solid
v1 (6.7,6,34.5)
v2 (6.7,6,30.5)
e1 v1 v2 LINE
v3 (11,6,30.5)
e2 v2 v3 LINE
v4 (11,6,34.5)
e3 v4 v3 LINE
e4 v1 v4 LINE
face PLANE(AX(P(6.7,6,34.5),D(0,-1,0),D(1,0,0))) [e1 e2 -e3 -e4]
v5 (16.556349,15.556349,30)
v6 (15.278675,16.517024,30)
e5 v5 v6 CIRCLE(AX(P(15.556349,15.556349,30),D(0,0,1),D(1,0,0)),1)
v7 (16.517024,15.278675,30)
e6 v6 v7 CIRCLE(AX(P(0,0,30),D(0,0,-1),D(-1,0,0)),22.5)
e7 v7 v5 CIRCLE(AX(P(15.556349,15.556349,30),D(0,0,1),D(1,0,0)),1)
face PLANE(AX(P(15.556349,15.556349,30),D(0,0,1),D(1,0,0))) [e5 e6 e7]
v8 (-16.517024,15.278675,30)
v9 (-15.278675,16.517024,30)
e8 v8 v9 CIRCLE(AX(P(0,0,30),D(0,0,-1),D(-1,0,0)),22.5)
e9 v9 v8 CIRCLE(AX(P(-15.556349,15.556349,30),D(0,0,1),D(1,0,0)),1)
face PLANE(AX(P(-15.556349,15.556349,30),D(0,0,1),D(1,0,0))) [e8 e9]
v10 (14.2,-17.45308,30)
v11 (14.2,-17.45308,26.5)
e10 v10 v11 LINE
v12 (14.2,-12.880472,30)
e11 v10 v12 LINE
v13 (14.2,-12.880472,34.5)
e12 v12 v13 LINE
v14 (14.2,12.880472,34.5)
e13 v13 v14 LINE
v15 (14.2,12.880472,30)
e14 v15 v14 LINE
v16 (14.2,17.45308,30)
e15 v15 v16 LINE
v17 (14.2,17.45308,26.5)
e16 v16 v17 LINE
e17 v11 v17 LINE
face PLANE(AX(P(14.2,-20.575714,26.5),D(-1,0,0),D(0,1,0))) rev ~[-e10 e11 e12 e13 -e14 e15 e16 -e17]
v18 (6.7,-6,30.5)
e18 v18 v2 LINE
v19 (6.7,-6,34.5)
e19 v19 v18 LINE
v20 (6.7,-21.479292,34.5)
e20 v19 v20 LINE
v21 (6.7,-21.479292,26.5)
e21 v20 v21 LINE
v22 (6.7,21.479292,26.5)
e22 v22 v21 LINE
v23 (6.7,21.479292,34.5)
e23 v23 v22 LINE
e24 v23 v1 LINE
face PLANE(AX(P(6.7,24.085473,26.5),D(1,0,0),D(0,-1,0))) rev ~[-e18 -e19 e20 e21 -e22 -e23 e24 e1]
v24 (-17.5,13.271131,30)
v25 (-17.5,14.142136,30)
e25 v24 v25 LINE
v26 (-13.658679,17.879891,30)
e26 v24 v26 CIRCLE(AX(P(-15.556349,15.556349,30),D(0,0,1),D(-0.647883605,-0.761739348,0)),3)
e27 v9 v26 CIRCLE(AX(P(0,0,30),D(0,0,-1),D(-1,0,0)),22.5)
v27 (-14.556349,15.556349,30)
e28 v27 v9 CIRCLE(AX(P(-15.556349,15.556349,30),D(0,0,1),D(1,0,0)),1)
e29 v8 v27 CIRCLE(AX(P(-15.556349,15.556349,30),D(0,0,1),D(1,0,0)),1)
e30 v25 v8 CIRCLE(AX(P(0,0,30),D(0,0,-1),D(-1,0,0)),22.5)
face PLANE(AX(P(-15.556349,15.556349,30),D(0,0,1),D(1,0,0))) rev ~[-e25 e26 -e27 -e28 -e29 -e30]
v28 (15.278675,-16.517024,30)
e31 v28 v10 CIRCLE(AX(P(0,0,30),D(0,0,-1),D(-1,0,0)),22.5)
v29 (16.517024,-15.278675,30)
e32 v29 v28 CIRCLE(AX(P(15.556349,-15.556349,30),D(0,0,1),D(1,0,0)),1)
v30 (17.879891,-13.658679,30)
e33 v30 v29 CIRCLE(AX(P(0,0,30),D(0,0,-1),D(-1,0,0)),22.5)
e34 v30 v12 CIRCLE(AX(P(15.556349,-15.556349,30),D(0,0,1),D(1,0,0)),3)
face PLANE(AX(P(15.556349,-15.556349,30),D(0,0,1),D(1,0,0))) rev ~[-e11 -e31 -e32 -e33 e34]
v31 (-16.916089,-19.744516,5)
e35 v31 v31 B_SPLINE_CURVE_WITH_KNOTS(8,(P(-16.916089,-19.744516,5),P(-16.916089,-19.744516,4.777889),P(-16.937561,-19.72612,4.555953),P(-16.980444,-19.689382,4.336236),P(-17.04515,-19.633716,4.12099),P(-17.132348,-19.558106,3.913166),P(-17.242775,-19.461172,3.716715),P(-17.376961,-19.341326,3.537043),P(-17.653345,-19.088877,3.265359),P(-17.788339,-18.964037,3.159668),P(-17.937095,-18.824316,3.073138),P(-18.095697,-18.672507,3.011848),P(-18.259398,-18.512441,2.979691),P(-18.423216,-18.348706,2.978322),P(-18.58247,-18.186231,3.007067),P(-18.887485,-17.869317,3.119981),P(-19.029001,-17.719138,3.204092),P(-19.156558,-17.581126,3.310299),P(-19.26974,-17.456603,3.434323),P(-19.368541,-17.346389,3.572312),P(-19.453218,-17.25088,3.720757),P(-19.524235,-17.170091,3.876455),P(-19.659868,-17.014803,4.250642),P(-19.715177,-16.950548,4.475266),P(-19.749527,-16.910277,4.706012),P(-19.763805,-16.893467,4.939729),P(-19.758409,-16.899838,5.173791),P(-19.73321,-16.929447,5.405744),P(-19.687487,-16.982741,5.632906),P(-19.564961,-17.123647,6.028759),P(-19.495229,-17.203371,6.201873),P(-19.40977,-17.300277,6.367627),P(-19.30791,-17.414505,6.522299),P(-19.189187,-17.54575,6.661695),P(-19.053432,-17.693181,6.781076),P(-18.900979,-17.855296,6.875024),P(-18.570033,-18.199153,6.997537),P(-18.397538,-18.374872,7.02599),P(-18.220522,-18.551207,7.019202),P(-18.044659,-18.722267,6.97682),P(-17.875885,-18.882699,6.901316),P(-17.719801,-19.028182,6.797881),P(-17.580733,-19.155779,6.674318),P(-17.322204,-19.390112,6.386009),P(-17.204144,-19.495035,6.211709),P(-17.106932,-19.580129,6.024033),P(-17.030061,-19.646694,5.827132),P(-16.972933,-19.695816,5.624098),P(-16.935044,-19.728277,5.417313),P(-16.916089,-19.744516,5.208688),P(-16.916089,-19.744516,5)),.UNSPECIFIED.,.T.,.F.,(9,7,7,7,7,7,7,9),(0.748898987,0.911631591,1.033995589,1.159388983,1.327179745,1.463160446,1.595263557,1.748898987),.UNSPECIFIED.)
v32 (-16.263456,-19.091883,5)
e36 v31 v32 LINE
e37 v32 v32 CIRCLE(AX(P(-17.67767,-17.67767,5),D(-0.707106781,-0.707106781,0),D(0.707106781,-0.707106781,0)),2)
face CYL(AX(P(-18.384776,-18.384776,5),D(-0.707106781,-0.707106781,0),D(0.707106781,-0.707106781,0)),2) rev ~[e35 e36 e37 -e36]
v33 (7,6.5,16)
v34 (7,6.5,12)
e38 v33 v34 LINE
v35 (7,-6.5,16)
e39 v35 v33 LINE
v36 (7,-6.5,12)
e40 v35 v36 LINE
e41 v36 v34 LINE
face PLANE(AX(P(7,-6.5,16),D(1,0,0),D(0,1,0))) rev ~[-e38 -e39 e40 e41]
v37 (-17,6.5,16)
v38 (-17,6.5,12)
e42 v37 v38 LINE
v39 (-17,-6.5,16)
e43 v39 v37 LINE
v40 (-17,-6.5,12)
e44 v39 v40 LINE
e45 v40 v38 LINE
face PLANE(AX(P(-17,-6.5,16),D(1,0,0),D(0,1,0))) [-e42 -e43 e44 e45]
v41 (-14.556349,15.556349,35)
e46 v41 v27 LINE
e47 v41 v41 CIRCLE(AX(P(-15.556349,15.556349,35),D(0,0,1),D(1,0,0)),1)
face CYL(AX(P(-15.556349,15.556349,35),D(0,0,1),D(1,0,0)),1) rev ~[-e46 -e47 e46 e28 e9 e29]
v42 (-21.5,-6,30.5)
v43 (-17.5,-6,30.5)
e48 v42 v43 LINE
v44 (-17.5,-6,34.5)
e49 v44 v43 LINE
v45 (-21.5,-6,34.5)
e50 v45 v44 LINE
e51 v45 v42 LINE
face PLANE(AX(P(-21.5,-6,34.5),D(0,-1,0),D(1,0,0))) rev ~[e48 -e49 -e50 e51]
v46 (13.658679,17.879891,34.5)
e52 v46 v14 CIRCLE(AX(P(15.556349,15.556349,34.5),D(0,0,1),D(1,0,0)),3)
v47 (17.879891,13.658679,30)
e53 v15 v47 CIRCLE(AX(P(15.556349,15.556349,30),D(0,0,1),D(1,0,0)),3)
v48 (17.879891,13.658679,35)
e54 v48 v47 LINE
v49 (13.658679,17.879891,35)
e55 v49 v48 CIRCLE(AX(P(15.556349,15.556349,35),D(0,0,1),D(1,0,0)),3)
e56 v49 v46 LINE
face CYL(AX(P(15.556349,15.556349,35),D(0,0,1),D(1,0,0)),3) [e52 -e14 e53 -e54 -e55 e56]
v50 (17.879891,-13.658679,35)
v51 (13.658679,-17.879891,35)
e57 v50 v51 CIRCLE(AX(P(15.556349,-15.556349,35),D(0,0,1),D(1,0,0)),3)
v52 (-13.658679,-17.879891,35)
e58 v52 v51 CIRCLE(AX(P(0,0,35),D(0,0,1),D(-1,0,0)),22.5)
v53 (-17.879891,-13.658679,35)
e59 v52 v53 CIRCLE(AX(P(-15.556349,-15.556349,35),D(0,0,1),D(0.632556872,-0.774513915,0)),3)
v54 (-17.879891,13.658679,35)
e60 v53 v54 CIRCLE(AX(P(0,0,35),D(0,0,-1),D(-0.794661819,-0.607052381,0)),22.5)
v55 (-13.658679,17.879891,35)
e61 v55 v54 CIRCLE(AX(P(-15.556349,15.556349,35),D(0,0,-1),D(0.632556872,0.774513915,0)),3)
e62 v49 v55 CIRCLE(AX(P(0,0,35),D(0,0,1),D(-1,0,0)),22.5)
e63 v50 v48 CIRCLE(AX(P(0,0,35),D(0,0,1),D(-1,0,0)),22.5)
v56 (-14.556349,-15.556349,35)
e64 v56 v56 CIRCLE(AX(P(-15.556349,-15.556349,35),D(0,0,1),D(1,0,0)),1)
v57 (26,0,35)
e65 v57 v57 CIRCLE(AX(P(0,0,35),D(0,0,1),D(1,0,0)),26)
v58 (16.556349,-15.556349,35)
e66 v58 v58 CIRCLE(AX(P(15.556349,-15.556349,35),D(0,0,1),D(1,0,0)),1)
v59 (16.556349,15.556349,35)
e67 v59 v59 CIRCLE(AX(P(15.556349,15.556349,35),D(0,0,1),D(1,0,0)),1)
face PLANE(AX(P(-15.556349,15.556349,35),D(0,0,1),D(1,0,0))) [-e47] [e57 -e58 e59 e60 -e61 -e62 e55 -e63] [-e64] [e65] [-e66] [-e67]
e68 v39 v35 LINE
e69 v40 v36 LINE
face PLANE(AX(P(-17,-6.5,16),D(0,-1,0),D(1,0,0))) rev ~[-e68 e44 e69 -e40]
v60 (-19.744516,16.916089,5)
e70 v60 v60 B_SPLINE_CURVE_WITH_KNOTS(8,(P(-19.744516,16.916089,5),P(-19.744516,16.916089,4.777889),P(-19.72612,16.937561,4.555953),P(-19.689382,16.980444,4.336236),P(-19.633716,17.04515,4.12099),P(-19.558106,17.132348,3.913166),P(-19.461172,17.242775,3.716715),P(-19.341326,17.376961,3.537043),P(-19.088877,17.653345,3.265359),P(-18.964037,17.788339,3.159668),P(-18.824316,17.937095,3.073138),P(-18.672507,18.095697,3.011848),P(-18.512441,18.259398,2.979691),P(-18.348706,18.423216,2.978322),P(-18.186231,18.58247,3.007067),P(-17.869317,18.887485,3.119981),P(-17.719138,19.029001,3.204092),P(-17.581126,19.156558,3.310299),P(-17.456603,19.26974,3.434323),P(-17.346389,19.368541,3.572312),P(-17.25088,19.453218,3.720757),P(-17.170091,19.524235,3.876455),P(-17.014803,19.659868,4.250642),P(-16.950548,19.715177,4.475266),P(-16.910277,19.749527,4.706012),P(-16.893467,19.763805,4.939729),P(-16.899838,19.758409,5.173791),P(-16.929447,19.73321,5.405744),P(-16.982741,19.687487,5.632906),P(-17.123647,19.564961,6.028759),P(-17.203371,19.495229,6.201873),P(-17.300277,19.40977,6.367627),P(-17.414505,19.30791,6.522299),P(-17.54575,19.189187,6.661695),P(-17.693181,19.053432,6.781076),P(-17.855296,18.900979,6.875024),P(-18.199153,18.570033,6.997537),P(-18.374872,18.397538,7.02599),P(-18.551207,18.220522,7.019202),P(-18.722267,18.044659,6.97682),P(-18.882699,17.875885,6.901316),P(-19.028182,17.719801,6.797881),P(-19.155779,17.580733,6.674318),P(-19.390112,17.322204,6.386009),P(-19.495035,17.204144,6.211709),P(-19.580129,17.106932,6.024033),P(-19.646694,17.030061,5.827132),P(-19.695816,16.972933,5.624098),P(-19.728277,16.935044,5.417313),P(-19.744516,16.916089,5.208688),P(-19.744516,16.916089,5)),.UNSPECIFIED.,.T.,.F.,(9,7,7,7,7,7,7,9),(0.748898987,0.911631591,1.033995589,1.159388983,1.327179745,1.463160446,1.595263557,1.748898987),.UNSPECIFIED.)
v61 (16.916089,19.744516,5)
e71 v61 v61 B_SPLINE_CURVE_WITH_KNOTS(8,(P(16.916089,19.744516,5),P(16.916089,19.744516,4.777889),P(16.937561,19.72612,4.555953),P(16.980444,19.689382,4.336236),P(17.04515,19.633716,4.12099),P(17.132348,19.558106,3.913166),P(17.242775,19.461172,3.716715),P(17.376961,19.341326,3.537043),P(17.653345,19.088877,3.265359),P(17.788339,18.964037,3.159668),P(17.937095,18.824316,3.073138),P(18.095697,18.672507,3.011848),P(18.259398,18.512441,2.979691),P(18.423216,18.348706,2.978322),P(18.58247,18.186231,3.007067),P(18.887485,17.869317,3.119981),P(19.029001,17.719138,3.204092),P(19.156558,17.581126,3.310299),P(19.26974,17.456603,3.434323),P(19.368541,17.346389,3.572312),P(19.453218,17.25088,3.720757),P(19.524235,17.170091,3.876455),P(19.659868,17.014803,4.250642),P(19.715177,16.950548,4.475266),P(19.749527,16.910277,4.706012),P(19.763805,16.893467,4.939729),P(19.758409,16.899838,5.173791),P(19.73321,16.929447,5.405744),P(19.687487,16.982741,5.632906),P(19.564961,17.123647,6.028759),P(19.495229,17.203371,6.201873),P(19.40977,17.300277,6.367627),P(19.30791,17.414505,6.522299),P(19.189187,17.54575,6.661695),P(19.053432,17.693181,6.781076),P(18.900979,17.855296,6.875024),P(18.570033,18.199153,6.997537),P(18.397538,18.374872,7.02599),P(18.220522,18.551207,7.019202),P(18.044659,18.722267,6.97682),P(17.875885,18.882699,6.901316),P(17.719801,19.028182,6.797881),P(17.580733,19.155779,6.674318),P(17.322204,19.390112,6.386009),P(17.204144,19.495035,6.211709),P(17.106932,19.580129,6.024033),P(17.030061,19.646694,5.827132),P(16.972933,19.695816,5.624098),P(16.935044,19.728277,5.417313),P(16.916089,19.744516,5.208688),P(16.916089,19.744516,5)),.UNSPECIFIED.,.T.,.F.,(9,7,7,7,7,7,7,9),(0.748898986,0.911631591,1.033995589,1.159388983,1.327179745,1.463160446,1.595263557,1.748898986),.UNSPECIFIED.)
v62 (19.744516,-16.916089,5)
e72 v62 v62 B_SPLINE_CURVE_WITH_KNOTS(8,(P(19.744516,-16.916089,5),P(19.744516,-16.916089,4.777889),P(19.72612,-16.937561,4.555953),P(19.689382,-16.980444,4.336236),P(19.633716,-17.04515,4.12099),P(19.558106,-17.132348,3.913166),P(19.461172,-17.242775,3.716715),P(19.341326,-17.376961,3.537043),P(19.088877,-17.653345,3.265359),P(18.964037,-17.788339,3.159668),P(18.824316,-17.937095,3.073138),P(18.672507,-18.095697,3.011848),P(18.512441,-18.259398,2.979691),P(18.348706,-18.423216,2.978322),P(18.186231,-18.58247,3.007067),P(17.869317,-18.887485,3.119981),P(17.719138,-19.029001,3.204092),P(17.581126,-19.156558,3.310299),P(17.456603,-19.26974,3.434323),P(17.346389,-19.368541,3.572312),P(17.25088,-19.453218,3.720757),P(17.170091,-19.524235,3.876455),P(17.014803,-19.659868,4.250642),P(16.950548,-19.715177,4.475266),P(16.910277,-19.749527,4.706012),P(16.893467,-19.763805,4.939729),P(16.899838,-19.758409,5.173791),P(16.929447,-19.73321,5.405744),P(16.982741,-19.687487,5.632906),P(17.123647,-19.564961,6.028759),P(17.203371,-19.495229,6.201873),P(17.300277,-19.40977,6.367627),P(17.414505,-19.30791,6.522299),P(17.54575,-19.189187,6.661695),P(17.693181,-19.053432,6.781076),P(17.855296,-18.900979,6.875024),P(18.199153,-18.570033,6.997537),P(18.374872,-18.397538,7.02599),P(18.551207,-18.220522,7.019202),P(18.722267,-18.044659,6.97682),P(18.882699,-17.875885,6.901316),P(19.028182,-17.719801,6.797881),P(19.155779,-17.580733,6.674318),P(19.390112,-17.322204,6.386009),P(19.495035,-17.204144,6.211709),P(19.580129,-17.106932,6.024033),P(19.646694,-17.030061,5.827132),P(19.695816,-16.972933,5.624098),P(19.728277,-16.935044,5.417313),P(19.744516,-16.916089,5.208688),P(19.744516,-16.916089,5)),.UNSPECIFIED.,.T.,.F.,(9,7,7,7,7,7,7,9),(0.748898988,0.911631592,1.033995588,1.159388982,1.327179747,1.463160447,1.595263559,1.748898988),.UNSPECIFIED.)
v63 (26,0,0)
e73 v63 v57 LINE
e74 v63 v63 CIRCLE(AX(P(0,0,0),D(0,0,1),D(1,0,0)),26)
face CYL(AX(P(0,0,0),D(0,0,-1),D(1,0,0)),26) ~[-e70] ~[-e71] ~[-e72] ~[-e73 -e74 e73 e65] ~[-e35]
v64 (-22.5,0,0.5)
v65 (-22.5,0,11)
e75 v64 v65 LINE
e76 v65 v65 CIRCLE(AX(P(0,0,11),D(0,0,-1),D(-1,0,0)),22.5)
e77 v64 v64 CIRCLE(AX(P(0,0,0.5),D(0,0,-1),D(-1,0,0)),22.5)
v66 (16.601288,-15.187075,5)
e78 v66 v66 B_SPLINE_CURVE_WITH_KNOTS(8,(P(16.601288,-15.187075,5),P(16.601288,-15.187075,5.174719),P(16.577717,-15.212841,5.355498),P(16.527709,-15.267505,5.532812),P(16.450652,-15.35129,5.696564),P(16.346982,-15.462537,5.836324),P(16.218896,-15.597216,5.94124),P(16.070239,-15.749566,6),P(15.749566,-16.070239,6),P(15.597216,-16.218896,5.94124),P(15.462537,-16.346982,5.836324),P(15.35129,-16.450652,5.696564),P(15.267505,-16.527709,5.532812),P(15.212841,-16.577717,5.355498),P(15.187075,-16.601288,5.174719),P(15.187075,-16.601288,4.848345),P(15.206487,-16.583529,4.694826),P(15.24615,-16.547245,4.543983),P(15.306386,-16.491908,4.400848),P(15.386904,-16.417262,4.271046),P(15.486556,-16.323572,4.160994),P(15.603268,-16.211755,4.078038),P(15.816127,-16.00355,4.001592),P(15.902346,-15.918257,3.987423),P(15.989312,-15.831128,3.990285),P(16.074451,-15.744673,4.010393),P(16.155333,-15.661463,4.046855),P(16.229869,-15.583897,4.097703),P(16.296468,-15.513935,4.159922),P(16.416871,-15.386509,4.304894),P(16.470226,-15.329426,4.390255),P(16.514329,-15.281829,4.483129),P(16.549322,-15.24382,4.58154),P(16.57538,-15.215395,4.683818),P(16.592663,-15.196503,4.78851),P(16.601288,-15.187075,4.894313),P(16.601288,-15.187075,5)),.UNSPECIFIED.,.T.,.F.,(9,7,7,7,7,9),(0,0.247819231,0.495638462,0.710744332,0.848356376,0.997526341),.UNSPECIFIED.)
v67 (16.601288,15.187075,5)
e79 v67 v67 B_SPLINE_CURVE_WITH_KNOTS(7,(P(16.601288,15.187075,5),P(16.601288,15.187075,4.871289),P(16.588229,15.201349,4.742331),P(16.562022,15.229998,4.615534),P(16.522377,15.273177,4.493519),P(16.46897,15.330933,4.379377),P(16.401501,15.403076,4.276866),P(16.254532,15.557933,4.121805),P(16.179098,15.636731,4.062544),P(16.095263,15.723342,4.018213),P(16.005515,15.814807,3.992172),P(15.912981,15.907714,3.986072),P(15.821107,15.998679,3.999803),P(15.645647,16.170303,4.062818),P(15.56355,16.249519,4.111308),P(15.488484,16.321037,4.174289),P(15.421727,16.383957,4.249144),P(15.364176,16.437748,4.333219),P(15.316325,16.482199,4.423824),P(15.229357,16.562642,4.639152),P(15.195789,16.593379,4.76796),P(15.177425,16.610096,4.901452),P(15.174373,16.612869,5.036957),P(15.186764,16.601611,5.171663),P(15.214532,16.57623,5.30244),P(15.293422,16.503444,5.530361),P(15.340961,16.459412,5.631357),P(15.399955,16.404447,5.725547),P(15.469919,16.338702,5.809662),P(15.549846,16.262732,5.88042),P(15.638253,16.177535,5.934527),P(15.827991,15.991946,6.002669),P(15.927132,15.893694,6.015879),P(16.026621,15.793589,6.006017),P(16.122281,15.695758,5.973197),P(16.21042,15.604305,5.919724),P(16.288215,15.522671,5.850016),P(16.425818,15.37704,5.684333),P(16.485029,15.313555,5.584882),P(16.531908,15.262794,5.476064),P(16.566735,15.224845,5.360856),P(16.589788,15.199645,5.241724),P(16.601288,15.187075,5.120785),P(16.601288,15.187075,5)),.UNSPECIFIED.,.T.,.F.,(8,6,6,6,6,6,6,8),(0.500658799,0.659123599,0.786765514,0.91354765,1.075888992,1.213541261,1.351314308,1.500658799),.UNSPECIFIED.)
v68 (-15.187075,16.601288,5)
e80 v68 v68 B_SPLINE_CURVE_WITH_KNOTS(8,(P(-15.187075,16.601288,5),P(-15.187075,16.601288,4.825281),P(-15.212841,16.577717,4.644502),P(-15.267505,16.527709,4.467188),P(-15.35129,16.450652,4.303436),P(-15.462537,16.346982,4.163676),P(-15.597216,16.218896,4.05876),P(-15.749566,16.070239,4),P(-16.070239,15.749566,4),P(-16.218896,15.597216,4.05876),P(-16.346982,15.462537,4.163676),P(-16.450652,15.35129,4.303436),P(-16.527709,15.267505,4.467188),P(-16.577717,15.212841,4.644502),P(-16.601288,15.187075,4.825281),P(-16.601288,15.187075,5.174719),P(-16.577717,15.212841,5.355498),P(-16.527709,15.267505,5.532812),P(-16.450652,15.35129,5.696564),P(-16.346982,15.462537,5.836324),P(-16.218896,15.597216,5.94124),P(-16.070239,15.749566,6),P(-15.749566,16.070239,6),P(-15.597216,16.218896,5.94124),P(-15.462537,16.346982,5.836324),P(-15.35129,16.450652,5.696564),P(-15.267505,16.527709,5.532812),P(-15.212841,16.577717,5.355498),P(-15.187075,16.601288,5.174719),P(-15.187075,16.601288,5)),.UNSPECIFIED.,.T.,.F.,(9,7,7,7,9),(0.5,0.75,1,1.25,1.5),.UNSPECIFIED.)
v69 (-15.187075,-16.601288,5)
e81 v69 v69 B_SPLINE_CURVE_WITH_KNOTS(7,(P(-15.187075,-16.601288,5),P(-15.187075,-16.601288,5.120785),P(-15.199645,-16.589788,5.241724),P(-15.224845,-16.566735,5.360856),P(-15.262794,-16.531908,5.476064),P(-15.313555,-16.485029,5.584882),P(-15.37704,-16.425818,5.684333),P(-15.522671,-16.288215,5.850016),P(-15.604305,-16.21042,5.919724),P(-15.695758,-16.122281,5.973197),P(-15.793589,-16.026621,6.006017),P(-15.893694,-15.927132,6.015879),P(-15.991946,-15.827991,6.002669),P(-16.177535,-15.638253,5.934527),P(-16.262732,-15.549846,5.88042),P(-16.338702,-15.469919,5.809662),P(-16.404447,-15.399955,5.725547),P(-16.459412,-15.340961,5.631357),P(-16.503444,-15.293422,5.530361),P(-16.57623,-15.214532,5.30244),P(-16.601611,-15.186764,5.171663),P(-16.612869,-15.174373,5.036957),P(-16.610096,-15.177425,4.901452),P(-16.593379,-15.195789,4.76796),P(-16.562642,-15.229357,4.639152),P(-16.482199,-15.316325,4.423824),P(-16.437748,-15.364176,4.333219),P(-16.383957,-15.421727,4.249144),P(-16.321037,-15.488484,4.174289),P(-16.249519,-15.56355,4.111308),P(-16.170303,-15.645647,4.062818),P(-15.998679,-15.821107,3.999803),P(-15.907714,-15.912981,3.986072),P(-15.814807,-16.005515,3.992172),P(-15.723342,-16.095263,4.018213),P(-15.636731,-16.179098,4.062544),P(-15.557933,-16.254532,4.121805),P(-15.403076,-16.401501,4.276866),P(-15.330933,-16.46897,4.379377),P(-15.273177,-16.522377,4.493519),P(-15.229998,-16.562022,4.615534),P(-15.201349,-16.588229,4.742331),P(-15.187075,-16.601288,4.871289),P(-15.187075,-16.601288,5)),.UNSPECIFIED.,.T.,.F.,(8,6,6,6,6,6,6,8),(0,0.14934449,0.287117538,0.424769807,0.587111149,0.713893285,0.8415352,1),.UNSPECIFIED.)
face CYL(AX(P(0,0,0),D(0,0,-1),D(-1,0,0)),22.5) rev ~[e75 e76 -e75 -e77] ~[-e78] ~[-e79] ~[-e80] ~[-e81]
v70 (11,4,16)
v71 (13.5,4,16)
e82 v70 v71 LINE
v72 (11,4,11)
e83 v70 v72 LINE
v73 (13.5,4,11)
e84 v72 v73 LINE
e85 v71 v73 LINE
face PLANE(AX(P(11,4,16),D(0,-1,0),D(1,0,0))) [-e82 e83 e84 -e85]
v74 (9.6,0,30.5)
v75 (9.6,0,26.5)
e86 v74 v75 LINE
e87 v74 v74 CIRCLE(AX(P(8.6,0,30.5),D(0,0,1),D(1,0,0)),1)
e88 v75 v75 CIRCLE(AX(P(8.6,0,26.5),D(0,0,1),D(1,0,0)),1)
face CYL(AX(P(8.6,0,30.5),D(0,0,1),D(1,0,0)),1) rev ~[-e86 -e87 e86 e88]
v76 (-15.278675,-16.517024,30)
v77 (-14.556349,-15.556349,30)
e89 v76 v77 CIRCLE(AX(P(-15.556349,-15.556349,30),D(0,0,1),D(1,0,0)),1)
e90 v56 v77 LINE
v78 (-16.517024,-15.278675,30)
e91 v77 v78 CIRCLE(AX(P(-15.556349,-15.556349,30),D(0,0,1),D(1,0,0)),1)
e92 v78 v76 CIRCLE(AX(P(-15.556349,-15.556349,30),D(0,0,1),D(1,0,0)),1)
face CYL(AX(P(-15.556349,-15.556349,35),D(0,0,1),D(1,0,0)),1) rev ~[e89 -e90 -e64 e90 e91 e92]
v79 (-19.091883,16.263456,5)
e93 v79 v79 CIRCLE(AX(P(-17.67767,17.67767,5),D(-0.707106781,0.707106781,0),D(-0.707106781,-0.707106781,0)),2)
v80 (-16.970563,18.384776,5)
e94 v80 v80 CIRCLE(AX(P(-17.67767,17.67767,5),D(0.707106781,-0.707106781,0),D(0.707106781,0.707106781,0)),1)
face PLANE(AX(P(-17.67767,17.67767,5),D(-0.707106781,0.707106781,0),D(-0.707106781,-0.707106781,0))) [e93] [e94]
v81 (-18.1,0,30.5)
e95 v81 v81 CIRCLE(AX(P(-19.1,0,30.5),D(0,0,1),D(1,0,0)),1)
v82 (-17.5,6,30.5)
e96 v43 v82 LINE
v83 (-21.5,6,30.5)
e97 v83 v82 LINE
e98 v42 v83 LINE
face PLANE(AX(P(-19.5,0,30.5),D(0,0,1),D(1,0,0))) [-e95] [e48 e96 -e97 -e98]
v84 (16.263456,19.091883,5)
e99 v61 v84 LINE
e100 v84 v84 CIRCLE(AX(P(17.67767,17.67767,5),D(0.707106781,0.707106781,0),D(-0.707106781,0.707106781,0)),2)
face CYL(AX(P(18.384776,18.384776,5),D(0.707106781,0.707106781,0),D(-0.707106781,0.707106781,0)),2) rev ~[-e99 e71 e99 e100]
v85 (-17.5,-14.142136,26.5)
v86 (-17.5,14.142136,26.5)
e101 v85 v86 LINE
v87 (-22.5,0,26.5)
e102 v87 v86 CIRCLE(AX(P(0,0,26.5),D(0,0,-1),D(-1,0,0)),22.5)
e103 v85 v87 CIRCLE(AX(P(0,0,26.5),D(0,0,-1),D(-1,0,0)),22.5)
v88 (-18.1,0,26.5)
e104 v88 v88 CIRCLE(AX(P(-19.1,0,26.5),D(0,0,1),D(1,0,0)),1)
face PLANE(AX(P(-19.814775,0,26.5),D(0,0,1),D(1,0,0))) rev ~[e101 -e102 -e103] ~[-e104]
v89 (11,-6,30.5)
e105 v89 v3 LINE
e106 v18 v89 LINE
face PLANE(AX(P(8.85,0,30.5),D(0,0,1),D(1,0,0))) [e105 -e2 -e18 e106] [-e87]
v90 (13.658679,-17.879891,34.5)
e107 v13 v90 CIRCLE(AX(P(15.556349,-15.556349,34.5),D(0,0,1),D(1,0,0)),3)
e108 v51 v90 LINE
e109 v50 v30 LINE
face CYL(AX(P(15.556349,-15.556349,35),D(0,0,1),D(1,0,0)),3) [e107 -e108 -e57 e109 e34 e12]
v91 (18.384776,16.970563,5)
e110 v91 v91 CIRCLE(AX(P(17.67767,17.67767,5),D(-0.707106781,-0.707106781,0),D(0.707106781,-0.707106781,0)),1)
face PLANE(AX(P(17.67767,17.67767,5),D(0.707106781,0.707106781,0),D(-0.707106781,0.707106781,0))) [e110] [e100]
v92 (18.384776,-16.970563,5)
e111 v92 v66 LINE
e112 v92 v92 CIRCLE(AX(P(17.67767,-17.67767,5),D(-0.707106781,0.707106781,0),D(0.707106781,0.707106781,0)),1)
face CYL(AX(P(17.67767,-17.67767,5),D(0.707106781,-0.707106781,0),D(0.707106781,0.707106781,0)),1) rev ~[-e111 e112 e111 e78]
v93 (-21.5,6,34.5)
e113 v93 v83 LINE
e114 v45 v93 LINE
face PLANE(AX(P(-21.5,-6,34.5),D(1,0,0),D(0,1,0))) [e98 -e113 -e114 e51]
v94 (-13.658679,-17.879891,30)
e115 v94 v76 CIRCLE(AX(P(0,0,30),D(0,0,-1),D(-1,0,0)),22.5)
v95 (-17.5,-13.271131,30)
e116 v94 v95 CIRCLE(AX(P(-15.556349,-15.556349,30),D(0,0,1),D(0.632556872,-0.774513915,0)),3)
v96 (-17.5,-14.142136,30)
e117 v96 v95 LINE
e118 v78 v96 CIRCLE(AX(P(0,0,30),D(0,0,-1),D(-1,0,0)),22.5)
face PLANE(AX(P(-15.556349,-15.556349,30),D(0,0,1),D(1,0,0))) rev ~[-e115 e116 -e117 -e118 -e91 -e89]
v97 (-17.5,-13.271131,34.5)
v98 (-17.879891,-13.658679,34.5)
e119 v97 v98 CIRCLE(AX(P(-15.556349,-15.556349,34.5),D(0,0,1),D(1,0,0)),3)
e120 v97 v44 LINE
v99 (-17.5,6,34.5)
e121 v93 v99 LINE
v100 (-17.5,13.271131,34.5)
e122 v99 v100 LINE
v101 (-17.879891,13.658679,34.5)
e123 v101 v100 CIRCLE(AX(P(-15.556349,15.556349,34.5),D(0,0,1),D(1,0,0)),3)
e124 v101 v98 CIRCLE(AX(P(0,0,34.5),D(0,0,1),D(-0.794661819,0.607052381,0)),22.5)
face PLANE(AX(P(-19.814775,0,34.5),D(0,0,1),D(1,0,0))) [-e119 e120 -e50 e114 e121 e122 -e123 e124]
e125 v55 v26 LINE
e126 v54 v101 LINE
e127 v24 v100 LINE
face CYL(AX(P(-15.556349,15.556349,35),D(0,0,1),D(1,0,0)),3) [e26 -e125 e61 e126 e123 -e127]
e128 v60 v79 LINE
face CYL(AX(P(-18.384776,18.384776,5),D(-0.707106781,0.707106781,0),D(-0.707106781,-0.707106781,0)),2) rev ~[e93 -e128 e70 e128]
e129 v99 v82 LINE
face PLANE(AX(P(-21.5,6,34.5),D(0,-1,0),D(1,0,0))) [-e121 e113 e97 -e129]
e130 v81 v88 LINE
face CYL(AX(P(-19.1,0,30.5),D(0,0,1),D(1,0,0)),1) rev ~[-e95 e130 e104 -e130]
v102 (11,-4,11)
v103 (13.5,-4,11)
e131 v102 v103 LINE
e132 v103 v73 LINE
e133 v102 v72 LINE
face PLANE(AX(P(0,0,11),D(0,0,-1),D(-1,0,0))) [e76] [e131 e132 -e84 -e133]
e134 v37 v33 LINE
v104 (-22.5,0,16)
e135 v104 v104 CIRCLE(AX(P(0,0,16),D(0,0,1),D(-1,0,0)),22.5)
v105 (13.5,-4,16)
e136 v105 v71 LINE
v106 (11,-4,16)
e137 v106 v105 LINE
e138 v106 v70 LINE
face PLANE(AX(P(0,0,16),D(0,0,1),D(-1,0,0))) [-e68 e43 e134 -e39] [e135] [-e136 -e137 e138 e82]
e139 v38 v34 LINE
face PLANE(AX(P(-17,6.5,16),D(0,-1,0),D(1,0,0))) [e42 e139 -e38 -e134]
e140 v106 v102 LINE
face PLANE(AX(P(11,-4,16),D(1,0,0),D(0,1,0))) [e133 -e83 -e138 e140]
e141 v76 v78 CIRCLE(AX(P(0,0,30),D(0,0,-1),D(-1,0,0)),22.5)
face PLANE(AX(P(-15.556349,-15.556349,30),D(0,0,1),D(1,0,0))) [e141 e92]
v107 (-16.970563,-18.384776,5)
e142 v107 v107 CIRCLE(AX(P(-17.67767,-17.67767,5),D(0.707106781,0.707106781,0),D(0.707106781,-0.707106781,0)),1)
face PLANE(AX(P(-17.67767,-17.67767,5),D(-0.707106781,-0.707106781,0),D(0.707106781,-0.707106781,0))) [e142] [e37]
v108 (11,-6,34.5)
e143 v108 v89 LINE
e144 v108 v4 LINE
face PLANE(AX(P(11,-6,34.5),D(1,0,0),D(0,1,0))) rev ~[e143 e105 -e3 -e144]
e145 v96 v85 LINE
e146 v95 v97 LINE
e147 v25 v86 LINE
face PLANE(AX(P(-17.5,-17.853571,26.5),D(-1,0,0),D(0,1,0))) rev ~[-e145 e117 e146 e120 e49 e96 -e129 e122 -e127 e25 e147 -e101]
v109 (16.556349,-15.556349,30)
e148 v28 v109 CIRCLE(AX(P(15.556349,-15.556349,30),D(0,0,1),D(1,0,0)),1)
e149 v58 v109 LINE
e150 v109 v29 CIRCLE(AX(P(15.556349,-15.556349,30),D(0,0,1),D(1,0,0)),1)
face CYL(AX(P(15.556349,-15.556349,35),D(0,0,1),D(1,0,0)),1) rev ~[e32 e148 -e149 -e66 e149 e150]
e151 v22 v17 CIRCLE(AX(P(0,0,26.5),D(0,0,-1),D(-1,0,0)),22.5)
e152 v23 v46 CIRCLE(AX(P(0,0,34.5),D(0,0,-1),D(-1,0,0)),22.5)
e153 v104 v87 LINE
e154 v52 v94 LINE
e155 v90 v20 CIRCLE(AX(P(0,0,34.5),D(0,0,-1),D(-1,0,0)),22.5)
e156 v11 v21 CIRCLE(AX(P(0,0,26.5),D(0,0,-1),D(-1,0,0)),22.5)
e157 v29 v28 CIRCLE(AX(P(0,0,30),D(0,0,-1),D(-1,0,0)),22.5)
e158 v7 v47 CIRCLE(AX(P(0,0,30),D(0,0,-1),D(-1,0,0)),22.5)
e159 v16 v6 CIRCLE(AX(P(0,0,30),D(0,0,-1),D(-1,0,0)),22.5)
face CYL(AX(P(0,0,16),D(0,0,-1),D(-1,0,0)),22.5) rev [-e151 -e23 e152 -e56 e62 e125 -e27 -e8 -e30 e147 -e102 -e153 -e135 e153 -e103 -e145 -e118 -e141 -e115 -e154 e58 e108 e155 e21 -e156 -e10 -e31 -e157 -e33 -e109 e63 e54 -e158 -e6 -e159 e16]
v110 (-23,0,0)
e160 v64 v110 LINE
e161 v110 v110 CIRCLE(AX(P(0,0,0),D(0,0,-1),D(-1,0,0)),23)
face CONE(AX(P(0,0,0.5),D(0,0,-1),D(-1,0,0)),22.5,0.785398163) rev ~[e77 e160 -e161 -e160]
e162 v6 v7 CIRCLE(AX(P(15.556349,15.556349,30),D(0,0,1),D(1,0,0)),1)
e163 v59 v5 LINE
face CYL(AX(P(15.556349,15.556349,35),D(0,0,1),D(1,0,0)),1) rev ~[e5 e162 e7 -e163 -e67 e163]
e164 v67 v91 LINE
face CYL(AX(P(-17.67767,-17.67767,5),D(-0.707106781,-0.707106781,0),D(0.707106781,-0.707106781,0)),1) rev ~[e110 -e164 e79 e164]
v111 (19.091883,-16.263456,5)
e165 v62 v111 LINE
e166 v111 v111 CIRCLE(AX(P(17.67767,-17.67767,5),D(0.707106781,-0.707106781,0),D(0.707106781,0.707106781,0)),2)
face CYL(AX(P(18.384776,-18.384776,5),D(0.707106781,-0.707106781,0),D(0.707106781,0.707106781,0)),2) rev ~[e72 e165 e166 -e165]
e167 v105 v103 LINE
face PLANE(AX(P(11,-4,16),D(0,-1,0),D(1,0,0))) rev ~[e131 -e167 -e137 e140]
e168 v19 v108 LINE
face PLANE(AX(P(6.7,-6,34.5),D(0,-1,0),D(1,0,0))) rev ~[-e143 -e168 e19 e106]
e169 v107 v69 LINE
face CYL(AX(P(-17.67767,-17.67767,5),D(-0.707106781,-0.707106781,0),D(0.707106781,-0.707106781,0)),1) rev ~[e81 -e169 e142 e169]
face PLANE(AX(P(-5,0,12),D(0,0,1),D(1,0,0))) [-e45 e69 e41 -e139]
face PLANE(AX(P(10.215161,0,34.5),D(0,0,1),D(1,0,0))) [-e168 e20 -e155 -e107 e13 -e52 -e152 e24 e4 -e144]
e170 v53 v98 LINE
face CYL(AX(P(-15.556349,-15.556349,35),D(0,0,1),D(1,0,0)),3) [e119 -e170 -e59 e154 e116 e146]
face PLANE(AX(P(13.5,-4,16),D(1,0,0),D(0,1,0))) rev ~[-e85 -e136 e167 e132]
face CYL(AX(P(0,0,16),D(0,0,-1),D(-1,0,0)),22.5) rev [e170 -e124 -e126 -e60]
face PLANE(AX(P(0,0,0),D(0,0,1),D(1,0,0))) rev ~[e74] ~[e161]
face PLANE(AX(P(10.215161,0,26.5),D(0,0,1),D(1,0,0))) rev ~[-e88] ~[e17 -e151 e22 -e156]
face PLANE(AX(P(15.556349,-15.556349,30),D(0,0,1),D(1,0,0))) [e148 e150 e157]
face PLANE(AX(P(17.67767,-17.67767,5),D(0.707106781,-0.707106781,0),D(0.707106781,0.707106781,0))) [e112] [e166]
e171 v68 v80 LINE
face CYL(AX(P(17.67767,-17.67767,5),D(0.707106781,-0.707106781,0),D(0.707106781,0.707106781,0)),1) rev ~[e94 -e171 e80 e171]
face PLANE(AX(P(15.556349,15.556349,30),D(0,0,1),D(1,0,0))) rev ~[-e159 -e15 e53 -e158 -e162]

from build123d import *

# Parameters (mm, degrees)
SKETCH_1_R               = 26
EXTRUDE_1_DEPTH          = 35
SKETCH_3_R               = 22.5
CUT_EXTRUDE_1_DEPTH      = 11
CUT_EXTRUDE_START        = -19
SKETCH_4_R               = 22.5
CUT_EXTRUDE_2_DEPTH      = 19
SKETCH_13_W              = 24
SKETCH_13_H              = 13
CUT_EXTRUDE_3_DEPTH      = 4
EXTRUDE_2_DEPTH          = 8
SKETCH_15_W              = 4
SKETCH_15_H              = 12
SKETCH_15_W_2            = 4.3
CUT_EXTRUDE_5_DEPTH      = 4
SKETCH_17_R              = 1
CUT_EXTRUDE_6_DEPTH      = 4
SKETCH_20_R              = 3
EXTRUDE_3_DEPTH          = 5
SKETCH_21_R              = 1
CUT_EXTRUDE_9_DEPTH      = 5
SKETCH_24_W              = 2.5
SKETCH_24_H              = 8
CUT_EXTRUDE_12_DEPTH     = 5
SKETCH_25_R              = 2
CUT_EXTRUDE_13_DEPTH     = 1
SKETCH_26_R              = 1
CUT_EXTRUDE_14_DEPTH     = 71.996321423
PATTERN_CIRCULAR_1_COUNT = 4
CHAMFER_1_SIZE           = 0.5


with BuildPart() as part:
    # Эскиз1 → Бобышка-Вытянуть1 (new body)
    with BuildSketch(Plane.XY):
        Circle(SKETCH_1_R)
    extrude(amount=EXTRUDE_1_DEPTH)

    # Эскиз3 → Вырез-Вытянуть1 (cut)
    with BuildSketch(Plane(origin=(0, 0, 0), x_dir=(-1, 0, 0), z_dir=(0, 0, -1))):
        Circle(SKETCH_3_R)
    extrude(amount=-CUT_EXTRUDE_1_DEPTH, mode=Mode.SUBTRACT)

    # Эскиз4 → Вырез-Вытянуть2 (cut)
    with BuildSketch(Plane.XY.offset(35).offset(CUT_EXTRUDE_START)):
        with Locations(Location((0, 0, 0), (0, 0, 180))):
            Circle(SKETCH_4_R)
    extrude(amount=CUT_EXTRUDE_2_DEPTH, mode=Mode.SUBTRACT)

    # Эскиз13 → Вырез-Вытянуть3 (cut)
    with BuildSketch(Plane.XY.offset(16)):
        with Locations((-5, 0)):
            Rectangle(SKETCH_13_W, SKETCH_13_H)
    extrude(amount=-CUT_EXTRUDE_3_DEPTH, mode=Mode.SUBTRACT)

    # Эскиз14 → Бобышка-Вытянуть2 (add)
    with BuildSketch(Plane.XY.offset(26.5)):
        with BuildLine():
            Line((14.2, -20.575713839), (14.2, 20.575713839))
            ThreePointArc((14.2, 20.575713839), (10.596324929, 22.643274896), (6.7, 24.0854728))
            Line((6.7, 24.0854728), (6.7, -24.0854728))
            ThreePointArc((6.7, -24.0854728), (10.596324929, -22.643274896), (14.2, -20.575713839))
        make_face()
        with BuildLine():
            Line((-17.5, -17.853571071), (-17.5, 17.853571071))
            ThreePointArc((-17.5, 17.853571071), (-25, 0), (-17.5, -17.853571071))
        make_face()
    extrude(amount=EXTRUDE_2_DEPTH)

    # Эскиз15 → Вырез-Вытянуть5 (cut)
    with BuildSketch(Plane.XY.offset(34.5)):
        with Locations((-19.5, 0)):
            Rectangle(SKETCH_15_W, SKETCH_15_H)
        with Locations((8.85, 0)):
            Rectangle(SKETCH_15_W_2, SKETCH_15_H)
    extrude(amount=-CUT_EXTRUDE_5_DEPTH, mode=Mode.SUBTRACT)

    # Эскиз17 → Вырез-Вытянуть6 (cut)
    with BuildSketch(Plane.XY.offset(30.5)):
        with Locations((-19.1, 0)):
            Circle(SKETCH_17_R)
        with Locations((8.6, 0)):
            Circle(SKETCH_17_R)
    extrude(amount=-CUT_EXTRUDE_6_DEPTH, mode=Mode.SUBTRACT)

    # Эскиз20 → Бобышка-Вытянуть3 (add)
    with BuildSketch(Plane.XY.offset(35)):
        with Locations((-15.556349186, 15.556349186)):
            Circle(SKETCH_20_R)
        with Locations((15.556349186, 15.556349186)):
            Circle(SKETCH_20_R)
        with Locations((15.556349186, -15.556349186)):
            Circle(SKETCH_20_R)
        with Locations((-15.556349186, -15.556349186)):
            Circle(SKETCH_20_R)
    extrude(amount=-EXTRUDE_3_DEPTH)

    # Эскиз21 → Вырез-Вытянуть9 (cut)
    with BuildSketch(Plane.XY.offset(35)):
        with Locations((-15.556349186, 15.556349186)):
            Circle(SKETCH_21_R)
        with Locations((15.556349186, 15.556349186)):
            Circle(SKETCH_21_R)
        with Locations((15.556349186, -15.556349186)):
            Circle(SKETCH_21_R)
        with Locations((-15.556349186, -15.556349186)):
            Circle(SKETCH_21_R)
    extrude(amount=-CUT_EXTRUDE_9_DEPTH, mode=Mode.SUBTRACT)

    # Эскиз24 → Вырез-Вытянуть12 (cut)
    with BuildSketch(Plane.XY.offset(16)):
        with Locations((12.25, 0)):
            Rectangle(SKETCH_24_W, SKETCH_24_H)
    extrude(amount=-CUT_EXTRUDE_12_DEPTH, mode=Mode.SUBTRACT)

    # Эскиз25 → Вырез-Вытянуть13 (cut)
    with BuildSketch(Plane(origin=(-18.384776311, -18.384776311, 35), x_dir=(-0.7071067811865678, 0.7071067811865273, 0), z_dir=(-0.7071067811865273, -0.7071067811865678, 0))):
        with Locations(Location((0, 30, 0), (0, 0, 180))):
            Circle(SKETCH_25_R)
    cut_extrude_13 = extrude(amount=-CUT_EXTRUDE_13_DEPTH, mode=Mode.SUBTRACT)

    # Эскиз26 → Вырез-Вытянуть14 (cut, through all)
    with BuildSketch(Plane(origin=(-17.67766953, -17.67766953, 0), x_dir=(0, 0, 1), z_dir=(-0.7071067811865273, -0.7071067811865678, 0))):
        with Locations(Location((5, 0, 0), (0, 0, 270))):
            Circle(SKETCH_26_R)
    cut_extrude_14 = extrude(amount=-CUT_EXTRUDE_14_DEPTH, mode=Mode.SUBTRACT)

    # Круговой массив1: Вырез-Вытянуть13, Вырез-Вытянуть14 ×4 about axis
    pattern_circular_1_axis = Axis((0, 0, 0), (0, 0, 1))
    add([cut_extrude_13.rotate(pattern_circular_1_axis, i * 360 / PATTERN_CIRCULAR_1_COUNT) for i in range(1, PATTERN_CIRCULAR_1_COUNT)], mode=Mode.SUBTRACT)
    add([cut_extrude_14.rotate(pattern_circular_1_axis, i * 360 / PATTERN_CIRCULAR_1_COUNT) for i in range(1, PATTERN_CIRCULAR_1_COUNT)], mode=Mode.SUBTRACT)

    # Фаска1
    chamfer_1_edges = [part.edges().sort_by_distance(p)[0] for p in [
        (22.5, 0, 0),
    ]]
    chamfer(chamfer_1_edges, length=CHAMFER_1_SIZE)


solid = part.part
